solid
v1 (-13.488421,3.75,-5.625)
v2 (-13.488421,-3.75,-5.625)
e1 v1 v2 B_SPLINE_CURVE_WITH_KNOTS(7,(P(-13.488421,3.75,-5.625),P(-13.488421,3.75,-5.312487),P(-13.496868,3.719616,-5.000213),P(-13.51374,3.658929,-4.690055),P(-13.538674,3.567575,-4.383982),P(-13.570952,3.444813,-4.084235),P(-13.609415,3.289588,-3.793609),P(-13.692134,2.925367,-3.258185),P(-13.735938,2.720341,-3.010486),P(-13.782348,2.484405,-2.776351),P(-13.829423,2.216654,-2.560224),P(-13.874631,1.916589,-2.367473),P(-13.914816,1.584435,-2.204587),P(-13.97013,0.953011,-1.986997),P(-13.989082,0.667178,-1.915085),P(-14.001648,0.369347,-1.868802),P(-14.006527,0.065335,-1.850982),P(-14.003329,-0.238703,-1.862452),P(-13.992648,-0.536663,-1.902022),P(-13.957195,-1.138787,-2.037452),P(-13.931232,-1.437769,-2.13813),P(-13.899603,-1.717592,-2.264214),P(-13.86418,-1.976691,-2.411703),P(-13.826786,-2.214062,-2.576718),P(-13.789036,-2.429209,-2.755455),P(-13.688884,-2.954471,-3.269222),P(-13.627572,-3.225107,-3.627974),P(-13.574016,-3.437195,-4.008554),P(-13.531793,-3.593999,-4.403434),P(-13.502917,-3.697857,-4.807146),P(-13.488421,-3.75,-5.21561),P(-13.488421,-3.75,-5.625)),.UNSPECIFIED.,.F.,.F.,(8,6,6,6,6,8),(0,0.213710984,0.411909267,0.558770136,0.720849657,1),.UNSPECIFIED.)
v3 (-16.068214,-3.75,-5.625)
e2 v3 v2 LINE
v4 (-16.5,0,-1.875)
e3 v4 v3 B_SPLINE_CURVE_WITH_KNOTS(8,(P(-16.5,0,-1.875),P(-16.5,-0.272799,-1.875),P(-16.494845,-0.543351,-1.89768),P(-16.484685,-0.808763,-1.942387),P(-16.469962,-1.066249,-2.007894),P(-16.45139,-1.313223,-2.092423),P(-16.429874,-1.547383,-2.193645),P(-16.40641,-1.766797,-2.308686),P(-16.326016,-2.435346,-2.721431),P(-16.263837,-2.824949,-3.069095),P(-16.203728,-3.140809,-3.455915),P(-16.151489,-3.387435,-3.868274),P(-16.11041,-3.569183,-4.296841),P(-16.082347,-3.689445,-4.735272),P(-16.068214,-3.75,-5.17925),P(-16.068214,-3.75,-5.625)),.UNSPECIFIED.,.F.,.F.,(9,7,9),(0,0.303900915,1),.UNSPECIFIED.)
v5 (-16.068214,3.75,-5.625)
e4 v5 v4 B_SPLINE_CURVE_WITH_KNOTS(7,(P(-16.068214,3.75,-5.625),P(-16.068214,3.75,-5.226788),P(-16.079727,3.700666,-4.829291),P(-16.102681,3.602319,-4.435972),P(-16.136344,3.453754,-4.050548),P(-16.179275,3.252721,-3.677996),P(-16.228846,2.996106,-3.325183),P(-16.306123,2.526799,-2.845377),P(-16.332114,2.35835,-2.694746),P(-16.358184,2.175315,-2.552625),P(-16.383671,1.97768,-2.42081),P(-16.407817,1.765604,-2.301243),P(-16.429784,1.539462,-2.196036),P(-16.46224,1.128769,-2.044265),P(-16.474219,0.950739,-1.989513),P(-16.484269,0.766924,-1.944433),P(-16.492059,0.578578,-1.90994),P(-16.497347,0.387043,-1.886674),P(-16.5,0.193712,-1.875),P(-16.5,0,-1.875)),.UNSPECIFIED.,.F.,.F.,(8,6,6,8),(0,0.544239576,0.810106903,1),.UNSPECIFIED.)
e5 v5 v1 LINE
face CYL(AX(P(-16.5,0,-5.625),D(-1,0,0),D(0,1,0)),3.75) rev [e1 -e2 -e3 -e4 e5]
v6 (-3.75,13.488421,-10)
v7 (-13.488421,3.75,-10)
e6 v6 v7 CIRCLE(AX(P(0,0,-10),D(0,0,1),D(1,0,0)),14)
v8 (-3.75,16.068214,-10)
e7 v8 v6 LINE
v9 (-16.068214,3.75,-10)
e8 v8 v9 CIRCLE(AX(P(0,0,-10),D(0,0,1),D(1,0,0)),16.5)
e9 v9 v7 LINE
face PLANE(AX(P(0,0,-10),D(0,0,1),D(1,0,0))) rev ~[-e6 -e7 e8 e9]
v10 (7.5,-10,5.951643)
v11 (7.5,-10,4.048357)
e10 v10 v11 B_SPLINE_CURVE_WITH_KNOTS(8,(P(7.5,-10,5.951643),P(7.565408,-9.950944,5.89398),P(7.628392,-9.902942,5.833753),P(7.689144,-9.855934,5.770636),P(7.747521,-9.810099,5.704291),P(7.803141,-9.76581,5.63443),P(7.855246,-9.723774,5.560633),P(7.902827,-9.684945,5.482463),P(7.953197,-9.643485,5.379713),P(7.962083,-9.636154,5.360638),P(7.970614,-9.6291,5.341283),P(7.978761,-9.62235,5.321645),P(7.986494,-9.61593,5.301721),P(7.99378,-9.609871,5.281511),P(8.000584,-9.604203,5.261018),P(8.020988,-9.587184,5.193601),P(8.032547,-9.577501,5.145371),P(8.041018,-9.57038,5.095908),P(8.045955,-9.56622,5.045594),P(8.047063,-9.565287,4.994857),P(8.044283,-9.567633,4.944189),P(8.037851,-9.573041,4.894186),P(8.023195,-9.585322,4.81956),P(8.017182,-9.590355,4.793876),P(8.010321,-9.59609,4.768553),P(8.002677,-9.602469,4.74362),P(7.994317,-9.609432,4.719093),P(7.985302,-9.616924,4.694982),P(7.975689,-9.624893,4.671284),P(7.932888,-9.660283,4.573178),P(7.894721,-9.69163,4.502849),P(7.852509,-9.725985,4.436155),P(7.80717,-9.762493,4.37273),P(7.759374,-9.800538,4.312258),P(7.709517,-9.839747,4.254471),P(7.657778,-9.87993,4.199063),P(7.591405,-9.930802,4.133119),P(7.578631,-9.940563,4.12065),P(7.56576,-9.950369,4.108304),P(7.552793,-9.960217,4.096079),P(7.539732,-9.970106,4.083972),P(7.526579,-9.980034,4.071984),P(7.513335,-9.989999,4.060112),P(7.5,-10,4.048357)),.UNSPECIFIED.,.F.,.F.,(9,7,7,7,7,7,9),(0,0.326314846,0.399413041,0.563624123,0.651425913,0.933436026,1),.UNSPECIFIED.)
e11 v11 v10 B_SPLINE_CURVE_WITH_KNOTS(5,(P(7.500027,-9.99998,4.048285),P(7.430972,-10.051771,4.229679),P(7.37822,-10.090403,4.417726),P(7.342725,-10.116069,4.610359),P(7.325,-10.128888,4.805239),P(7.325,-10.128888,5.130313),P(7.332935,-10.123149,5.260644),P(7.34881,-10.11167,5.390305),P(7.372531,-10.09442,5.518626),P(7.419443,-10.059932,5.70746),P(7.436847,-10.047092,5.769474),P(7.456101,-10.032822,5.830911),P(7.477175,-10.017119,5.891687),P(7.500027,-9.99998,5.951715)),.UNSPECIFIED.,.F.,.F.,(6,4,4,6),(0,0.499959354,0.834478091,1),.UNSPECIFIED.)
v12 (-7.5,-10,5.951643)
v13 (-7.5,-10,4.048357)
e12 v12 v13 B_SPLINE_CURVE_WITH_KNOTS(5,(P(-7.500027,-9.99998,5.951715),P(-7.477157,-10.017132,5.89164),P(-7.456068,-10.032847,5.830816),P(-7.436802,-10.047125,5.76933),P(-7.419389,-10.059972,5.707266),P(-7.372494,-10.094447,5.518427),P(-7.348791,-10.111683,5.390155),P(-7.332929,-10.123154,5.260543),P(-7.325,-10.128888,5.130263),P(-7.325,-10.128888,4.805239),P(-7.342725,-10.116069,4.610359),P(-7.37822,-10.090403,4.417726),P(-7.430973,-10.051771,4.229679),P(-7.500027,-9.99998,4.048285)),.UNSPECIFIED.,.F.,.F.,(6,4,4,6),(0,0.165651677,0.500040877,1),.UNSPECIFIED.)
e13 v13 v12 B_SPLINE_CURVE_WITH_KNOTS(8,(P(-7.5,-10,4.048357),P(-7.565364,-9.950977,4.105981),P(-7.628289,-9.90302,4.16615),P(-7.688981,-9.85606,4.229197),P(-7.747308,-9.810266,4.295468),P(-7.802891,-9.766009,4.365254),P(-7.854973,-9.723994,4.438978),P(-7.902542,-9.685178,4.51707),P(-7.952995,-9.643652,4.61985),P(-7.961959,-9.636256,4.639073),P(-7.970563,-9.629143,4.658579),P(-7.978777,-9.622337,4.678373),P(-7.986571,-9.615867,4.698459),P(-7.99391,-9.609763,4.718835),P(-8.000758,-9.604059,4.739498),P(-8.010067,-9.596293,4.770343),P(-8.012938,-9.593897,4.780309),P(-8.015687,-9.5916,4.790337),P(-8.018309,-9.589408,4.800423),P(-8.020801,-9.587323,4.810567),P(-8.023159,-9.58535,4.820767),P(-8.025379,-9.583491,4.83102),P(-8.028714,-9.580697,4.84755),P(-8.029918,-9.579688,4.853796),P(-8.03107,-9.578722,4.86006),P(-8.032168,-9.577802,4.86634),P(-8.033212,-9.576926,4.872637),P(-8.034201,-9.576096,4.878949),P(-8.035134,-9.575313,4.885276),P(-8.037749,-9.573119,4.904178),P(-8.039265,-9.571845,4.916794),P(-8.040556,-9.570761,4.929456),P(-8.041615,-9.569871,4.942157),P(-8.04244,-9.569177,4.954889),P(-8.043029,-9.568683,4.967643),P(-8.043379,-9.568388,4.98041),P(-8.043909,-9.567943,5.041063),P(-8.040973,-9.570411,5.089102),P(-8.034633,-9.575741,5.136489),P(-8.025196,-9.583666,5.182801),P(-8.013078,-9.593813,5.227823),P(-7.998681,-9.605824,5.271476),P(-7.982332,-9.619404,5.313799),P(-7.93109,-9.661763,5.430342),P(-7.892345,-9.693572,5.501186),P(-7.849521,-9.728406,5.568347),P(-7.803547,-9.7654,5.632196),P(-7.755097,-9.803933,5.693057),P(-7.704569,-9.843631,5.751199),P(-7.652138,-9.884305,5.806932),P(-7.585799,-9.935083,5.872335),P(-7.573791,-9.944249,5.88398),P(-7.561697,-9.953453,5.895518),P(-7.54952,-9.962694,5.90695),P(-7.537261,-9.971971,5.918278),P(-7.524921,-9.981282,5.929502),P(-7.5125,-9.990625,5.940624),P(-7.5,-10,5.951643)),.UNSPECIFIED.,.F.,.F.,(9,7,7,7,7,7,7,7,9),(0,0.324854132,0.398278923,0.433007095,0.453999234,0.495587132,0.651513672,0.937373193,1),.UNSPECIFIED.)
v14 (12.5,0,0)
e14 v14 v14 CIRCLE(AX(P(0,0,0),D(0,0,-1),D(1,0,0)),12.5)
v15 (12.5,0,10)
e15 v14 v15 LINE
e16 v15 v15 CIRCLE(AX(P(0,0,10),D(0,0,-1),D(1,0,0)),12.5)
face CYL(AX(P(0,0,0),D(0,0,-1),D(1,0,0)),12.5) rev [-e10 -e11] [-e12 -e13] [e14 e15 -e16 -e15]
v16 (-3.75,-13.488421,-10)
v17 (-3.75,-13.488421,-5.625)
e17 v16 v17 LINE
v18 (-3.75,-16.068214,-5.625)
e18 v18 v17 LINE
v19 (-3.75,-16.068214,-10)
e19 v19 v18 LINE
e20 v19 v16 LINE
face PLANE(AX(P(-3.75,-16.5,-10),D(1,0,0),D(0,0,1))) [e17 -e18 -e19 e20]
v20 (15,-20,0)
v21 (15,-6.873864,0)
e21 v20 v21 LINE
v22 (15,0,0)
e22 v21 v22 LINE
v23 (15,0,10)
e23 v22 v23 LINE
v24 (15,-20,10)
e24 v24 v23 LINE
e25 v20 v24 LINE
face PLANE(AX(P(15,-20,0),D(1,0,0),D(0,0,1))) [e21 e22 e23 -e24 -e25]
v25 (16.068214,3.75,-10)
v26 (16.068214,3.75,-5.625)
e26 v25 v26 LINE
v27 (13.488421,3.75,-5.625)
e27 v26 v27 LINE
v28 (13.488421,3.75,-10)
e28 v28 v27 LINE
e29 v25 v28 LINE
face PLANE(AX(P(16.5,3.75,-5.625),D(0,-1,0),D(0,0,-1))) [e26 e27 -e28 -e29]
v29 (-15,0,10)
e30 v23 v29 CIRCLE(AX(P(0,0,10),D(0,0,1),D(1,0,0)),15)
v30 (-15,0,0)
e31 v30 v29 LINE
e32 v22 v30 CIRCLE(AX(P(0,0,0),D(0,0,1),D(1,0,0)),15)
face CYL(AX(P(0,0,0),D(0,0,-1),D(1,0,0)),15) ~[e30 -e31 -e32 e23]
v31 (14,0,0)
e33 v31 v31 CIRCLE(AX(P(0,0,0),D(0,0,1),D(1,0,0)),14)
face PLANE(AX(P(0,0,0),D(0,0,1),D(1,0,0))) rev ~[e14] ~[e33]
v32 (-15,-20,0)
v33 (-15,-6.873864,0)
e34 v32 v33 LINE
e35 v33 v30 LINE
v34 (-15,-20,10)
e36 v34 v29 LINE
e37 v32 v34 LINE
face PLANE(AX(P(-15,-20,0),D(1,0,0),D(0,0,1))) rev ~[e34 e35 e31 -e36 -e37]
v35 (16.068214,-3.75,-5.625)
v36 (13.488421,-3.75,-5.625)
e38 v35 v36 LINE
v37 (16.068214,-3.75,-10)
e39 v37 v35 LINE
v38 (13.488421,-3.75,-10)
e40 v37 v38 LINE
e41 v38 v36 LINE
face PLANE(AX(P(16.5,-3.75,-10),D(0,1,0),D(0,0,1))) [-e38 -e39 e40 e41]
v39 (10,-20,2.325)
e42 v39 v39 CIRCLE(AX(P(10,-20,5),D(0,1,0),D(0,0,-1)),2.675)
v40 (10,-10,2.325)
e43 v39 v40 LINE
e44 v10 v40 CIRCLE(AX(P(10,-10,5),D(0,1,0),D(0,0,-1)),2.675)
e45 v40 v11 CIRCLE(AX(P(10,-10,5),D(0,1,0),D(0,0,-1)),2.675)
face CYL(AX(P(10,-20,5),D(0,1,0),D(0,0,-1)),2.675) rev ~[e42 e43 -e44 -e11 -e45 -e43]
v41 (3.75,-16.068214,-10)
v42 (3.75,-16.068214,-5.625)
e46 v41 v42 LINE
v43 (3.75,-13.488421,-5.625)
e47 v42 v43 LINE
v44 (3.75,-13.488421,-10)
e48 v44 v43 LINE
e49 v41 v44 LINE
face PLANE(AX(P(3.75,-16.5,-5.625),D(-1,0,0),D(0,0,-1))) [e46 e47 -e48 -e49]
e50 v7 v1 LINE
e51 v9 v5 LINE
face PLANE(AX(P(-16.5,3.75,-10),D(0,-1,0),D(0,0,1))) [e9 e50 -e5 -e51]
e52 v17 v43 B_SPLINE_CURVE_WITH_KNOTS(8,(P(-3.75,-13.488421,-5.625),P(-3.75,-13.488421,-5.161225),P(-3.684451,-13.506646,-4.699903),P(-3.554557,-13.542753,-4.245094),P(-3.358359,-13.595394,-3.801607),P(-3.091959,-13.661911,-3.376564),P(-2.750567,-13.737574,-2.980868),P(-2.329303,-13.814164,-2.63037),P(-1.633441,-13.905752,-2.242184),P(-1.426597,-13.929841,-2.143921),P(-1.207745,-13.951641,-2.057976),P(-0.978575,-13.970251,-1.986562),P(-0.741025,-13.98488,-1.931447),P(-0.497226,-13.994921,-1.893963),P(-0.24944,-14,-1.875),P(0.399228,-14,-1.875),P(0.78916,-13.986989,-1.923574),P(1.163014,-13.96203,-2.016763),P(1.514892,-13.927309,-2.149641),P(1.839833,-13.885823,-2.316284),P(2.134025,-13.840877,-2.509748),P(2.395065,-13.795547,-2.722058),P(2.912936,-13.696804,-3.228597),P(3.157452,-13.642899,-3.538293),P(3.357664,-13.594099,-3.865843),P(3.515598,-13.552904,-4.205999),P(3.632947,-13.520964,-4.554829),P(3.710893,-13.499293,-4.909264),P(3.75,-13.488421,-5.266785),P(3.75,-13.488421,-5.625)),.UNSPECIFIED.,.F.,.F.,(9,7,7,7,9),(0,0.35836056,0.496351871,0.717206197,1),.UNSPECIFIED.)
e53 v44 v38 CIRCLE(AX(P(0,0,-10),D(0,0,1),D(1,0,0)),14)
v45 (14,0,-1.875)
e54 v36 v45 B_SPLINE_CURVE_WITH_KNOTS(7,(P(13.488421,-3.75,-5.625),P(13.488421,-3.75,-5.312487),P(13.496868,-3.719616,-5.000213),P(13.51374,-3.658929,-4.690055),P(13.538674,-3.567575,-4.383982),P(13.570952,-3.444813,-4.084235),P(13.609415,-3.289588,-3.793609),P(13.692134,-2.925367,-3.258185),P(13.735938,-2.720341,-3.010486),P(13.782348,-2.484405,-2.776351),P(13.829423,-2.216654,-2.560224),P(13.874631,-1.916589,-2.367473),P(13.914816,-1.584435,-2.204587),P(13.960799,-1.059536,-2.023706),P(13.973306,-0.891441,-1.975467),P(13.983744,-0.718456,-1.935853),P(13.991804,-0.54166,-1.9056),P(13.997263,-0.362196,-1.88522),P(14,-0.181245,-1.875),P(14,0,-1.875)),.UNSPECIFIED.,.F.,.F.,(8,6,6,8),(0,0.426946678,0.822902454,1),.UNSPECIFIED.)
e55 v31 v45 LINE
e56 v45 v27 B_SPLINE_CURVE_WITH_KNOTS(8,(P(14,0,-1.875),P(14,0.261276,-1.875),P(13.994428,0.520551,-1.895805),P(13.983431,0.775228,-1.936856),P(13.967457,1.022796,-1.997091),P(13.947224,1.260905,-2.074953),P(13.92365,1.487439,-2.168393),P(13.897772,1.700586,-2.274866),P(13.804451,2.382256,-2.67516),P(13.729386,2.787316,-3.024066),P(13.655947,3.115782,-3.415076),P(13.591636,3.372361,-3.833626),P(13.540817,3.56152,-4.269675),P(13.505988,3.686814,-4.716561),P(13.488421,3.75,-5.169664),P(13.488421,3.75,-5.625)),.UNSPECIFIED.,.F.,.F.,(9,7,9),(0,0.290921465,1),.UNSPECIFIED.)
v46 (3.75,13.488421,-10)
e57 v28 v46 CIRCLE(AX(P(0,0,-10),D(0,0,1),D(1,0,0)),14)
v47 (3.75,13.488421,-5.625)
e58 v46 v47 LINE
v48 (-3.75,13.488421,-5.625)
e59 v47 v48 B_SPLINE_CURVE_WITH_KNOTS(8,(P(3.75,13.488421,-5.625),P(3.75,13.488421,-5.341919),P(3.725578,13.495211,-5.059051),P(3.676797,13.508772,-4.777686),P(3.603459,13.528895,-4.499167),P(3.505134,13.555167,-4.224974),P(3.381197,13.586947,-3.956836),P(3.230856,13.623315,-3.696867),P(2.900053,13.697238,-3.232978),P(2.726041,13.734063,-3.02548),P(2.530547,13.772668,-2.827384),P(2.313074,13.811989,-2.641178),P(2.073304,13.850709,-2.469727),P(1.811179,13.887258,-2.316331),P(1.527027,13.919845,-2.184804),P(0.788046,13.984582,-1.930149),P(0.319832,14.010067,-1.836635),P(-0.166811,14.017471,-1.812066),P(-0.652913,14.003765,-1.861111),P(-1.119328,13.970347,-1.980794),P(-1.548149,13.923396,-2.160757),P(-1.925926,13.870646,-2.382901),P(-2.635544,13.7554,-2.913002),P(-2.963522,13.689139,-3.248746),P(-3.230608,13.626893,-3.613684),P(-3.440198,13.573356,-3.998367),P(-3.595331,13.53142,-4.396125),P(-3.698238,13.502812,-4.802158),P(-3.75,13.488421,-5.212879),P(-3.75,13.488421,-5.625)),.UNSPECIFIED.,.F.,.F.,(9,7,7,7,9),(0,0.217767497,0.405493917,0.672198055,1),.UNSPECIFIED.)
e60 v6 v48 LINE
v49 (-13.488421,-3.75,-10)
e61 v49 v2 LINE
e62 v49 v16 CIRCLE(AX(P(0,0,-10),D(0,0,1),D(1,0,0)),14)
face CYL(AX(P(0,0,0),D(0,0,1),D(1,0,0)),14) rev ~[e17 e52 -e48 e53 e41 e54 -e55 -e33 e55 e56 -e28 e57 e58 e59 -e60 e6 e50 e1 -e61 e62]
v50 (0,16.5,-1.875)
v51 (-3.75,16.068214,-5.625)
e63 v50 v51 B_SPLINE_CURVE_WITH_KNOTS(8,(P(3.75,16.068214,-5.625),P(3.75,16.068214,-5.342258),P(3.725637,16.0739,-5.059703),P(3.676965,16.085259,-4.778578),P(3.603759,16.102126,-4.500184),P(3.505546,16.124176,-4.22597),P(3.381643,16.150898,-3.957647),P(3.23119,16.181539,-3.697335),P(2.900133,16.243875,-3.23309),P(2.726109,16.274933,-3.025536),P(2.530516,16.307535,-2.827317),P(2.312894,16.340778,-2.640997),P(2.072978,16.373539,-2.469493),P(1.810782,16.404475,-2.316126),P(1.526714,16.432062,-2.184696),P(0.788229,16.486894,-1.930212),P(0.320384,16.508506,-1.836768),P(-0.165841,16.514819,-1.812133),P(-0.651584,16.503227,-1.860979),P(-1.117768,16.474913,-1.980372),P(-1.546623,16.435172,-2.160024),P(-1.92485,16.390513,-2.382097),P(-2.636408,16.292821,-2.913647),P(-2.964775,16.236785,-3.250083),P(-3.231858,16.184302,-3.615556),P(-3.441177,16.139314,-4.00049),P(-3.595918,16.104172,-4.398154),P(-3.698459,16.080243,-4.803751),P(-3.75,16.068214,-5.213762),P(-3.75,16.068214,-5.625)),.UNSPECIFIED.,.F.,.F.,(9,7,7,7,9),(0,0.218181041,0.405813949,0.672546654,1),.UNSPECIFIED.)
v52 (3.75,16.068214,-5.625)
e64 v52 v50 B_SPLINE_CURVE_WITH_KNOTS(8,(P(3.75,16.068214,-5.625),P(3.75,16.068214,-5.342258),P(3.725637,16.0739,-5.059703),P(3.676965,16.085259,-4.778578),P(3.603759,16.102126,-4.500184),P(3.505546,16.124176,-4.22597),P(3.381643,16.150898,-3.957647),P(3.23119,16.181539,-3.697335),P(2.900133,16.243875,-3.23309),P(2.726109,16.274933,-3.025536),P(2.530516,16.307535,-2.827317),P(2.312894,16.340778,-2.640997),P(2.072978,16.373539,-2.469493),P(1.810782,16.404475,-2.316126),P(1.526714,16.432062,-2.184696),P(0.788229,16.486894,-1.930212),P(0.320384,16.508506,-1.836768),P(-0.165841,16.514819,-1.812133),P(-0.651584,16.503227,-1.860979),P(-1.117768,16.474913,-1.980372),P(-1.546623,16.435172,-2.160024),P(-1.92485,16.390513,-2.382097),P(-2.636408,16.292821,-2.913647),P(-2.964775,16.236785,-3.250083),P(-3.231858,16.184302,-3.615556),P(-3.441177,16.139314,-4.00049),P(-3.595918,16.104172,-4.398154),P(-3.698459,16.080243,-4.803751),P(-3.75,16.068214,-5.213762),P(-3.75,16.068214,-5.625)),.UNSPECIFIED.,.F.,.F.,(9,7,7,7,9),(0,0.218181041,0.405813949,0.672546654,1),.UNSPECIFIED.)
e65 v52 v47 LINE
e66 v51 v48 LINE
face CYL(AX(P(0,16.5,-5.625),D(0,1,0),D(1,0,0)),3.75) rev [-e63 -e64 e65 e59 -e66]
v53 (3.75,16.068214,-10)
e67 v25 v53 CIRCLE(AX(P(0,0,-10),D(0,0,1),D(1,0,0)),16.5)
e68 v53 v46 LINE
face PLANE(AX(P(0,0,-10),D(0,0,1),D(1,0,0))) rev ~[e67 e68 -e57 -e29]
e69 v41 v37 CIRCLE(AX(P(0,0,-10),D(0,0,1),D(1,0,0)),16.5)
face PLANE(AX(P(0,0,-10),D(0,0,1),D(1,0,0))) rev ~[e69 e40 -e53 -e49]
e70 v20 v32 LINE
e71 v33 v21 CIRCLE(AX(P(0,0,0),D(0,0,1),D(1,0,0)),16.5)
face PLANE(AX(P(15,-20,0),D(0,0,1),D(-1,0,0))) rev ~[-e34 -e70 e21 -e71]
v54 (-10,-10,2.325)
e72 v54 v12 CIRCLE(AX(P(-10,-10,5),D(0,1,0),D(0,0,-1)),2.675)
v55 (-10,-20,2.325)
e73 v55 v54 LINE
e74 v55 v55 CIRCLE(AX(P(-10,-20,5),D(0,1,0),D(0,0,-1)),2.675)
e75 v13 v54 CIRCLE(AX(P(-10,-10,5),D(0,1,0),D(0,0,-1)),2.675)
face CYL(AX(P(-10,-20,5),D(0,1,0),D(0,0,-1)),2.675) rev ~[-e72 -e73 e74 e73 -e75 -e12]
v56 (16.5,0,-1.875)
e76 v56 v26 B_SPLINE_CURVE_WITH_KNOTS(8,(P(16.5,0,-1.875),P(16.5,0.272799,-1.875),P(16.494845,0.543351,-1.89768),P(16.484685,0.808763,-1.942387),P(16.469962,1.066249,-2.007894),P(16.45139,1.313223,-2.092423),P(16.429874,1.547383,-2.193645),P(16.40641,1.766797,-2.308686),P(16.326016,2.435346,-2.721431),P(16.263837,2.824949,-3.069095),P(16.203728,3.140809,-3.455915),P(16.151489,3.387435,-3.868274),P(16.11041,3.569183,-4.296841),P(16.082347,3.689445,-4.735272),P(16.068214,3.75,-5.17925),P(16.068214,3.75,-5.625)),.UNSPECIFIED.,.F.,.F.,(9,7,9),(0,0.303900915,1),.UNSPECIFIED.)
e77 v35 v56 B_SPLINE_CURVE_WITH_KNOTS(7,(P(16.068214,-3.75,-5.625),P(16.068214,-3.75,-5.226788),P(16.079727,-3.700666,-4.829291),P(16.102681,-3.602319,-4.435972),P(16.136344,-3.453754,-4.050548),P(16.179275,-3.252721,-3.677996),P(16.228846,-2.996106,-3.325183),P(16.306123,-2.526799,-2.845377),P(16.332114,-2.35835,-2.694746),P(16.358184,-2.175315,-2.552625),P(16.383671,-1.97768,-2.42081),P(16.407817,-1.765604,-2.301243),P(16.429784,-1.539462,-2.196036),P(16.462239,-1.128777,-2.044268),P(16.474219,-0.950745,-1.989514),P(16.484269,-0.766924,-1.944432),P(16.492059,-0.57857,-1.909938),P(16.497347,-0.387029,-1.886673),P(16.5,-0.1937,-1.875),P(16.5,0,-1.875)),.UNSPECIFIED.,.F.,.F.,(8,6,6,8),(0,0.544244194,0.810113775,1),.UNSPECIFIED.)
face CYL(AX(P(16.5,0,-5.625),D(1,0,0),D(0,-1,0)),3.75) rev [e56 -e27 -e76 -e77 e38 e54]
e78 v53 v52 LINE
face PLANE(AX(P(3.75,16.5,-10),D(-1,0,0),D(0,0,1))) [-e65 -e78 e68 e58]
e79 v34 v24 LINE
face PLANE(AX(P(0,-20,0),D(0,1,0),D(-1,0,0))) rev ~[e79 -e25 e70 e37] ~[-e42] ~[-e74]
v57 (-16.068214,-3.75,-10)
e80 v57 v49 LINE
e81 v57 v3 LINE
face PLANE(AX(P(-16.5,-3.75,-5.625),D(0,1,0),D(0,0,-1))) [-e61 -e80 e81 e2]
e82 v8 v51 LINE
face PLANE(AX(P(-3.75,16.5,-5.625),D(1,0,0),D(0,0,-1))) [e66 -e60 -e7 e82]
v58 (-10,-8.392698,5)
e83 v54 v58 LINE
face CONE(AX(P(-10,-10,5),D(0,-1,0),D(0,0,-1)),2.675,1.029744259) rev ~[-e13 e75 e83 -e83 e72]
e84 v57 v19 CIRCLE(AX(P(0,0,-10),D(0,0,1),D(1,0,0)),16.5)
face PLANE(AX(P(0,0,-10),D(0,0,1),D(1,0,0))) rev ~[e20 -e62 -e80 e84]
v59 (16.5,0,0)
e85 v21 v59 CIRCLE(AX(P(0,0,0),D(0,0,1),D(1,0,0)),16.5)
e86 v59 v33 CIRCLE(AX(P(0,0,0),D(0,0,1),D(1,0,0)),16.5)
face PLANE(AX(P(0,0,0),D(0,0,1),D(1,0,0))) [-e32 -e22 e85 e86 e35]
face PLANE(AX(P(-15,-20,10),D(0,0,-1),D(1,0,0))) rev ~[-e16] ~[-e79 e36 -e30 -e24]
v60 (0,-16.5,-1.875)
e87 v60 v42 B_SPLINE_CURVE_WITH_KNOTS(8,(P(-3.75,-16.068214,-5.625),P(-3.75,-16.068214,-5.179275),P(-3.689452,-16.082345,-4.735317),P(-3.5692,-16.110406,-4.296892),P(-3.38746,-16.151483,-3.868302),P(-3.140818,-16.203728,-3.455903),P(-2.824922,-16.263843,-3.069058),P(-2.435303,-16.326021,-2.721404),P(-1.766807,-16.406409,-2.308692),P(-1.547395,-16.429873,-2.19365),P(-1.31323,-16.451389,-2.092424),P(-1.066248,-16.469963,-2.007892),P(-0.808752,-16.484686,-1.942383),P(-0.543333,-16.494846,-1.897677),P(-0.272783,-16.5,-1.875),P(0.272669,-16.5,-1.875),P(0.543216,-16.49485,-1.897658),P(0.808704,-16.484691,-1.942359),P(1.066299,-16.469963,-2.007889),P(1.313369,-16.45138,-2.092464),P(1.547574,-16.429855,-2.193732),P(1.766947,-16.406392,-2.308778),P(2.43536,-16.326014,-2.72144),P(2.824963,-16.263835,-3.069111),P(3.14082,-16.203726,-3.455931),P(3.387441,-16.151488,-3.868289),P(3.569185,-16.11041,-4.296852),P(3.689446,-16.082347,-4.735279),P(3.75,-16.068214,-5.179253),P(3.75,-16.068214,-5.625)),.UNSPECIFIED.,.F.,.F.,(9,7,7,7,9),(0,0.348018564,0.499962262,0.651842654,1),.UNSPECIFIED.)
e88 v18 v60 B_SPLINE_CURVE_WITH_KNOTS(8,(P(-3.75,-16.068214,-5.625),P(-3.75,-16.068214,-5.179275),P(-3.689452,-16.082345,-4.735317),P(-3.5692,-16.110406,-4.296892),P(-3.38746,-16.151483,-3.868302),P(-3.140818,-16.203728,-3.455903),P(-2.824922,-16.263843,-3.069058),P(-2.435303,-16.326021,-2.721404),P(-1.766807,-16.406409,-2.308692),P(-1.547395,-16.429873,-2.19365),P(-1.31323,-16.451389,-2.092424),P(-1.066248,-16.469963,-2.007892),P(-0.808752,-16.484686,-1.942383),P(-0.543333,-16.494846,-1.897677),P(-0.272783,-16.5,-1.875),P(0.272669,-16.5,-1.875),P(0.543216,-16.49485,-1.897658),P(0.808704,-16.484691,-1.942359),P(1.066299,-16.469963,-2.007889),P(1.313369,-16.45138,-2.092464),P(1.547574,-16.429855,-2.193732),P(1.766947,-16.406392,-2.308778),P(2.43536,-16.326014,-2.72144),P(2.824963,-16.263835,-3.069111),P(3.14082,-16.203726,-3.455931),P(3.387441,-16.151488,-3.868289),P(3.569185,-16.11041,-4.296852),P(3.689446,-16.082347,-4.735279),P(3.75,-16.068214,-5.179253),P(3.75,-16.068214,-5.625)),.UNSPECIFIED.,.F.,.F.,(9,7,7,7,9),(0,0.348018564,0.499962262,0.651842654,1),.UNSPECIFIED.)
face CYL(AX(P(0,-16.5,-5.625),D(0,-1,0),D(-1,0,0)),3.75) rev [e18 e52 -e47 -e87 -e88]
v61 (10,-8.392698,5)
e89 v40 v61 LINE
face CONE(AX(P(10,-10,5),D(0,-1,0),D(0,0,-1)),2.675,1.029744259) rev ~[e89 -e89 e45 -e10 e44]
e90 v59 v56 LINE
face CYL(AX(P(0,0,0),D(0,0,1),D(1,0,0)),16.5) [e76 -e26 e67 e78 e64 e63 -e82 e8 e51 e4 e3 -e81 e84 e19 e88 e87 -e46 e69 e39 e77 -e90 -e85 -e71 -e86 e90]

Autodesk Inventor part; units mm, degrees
ref_plane "YZ Plane" through (0, 0, 0) normal (1, 0, 0) x (0, 1, 0)
sketch "Sketch2" plane through (0, 0, 0) normal (0, 0, 1) x (1, 0, 0)
  circle A0 centre (0, 0) radius 14
  circle A1 centre (0, 0) radius 12.5
  circle A2 centre (0, 0) radius 16.5
  circle A3 centre (0, 0) radius 15
  dimension "d0" = 28
  dimension "d1" = 25
  dimension "d2" = 33
  dimension "d3" = 30
extrude "Extrusion1" add sketch "Sketch2" against normal blind 10 contours A2 | A3
extrude "Extrusion2" add sketch "Sketch2" along normal blind 10 contours A0 | A3
ref_plane "Work Plane1" through (0, -20, 0) normal (0, 1, 0) x (-1, 0, 0)
sketch "Sketch3" plane through (0, -20, 0) normal (0, 1, 0) x (-1, 0, 0)
  line L0 (15, 10) -> (-15, 10) projected
  line L1 (-15, 0) -> (15, 0) projected
  line L2 (-26, 10) -> (-26, 0)
  line L3 (26, 10) -> (26, 0)
  line L4 (15, 0) -> (15, 10)
  line L5 (16.5, 0) -> (-16.5, 0) projected
  line L6 (-15, 0) -> (-16.5, 0)
  line L7 (-16.5, 0) -> (-16.5, 10)
  line L8 (-16.5, 10) -> (-15, 10)
  line L9 (16.5, 0) -> (16.5, 10)
  line L10 (16.5, 10) -> (15, 10)
  line L11 (-26, 0) -> (-16.5, 0)
  line L12 (-26, 10) -> (-16.5, 10)
  line L13 (16.5, 10) -> (26, 10)
  line L14 (-15, 0) -> (-15, 10)
  dimension "d9" = 11
  dimension "d10" = 11
  dimension "d11" = 10
  dimension "d36" = 33
extrude "Extrusion3" add sketch "Sketch3" along normal blind 20 contours L4 L1 L14 L0
extrude "Extrusion4" [suppressed]
extrude "Extrusion5" cut sketch "Sketch2" along normal through all contours A1
sketch "Sketch4" plane through (0, -10, 0) normal (0, 1, 0) x (1, 0, 0)
  line L0 (26, -10) -> (26, 0) projected
  line L1 (15, -10) -> (26, -10) projected
  line L2 (-26, -10) -> (-15, -10) projected
  line L3 (-26, 0) -> (-26, -10) projected
  point P0 (0, 0)
  point P1 (20.5, -4.5)
  point P2 (-21, -5)
  dimension "d18" = 5.5
  dimension "d19" = 5.5
  dimension "d20" = 5
  dimension "d21" = 5
hole "Hole1" [suppressed]
ref_plane "Work Plane2" through (0, 16.5, 0) normal (0, -1, 0) x (1, 0, 0)
sketch "Sketch5" plane through (0, 16.5, 0) normal (0, -1, 0) x (1, 0, 0)
  line L0 (-16.5, -10) -> (16.5, -10) projected
  line L1 (-3.75, -10) -> (3.75, -10)
  line L2 (3.75, -10) -> (3.75, -5.625)
  line L3 (3.75, -5.625) -> (-3.75, -5.625)
  line L4 (-3.75, -5.625) -> (-3.75, -10)
  arc A0 (3.75, -5.625) -> (-3.75, -5.625) centre (0, -5.625) ccw
  line L5 (15, 0) -> (-15, 0) projected
  circle A1 centre (0, -5.625) radius 2.125 projected
  point P0 (0, 0)
  point P1 (0, 0)
  point P2 (-33, 0)
  point P3 (-33, 0)
  dimension "d29" = 3.75
extrude "Extrusion6" cut sketch "Sketch5" along normal blind 10
pattern_circular "Circular Pattern1" count 4 over 360 about axis through (0, 0, 0) along (0, 0, -1) of "Extrusion6"
sketch "Sketch6" plane through (0, -20, 0) normal (0, -1, 0) x (1, 0, 0)
  line L0 (15, 10) -> (15, 0) projected
  line L1 (-15, 0) -> (-15, 10) projected
  point P0 (0, 0)
  point P1 (10, 5)
  point P2 (-10, 5)
  point P3 (15, 5)
  point P4 (15, 5)
  dimension "d44" = 5
  dimension "d45" = 5
hole "Hole2" at (10, -20, 5) at (-10, -20, 5) direction (0, 1, 0) diameter 5.35 depth 10 tip angle 118
equation "\"d18\" = 0.5 * d9"
equation "\"d19\" = 0.5 * d9"
equation "\"d20\" = 0.5 * d11"
equation "\"d21\" = 0.5 * d11"
properties part number "Adafruit_1528_4699_ND_House_01"
